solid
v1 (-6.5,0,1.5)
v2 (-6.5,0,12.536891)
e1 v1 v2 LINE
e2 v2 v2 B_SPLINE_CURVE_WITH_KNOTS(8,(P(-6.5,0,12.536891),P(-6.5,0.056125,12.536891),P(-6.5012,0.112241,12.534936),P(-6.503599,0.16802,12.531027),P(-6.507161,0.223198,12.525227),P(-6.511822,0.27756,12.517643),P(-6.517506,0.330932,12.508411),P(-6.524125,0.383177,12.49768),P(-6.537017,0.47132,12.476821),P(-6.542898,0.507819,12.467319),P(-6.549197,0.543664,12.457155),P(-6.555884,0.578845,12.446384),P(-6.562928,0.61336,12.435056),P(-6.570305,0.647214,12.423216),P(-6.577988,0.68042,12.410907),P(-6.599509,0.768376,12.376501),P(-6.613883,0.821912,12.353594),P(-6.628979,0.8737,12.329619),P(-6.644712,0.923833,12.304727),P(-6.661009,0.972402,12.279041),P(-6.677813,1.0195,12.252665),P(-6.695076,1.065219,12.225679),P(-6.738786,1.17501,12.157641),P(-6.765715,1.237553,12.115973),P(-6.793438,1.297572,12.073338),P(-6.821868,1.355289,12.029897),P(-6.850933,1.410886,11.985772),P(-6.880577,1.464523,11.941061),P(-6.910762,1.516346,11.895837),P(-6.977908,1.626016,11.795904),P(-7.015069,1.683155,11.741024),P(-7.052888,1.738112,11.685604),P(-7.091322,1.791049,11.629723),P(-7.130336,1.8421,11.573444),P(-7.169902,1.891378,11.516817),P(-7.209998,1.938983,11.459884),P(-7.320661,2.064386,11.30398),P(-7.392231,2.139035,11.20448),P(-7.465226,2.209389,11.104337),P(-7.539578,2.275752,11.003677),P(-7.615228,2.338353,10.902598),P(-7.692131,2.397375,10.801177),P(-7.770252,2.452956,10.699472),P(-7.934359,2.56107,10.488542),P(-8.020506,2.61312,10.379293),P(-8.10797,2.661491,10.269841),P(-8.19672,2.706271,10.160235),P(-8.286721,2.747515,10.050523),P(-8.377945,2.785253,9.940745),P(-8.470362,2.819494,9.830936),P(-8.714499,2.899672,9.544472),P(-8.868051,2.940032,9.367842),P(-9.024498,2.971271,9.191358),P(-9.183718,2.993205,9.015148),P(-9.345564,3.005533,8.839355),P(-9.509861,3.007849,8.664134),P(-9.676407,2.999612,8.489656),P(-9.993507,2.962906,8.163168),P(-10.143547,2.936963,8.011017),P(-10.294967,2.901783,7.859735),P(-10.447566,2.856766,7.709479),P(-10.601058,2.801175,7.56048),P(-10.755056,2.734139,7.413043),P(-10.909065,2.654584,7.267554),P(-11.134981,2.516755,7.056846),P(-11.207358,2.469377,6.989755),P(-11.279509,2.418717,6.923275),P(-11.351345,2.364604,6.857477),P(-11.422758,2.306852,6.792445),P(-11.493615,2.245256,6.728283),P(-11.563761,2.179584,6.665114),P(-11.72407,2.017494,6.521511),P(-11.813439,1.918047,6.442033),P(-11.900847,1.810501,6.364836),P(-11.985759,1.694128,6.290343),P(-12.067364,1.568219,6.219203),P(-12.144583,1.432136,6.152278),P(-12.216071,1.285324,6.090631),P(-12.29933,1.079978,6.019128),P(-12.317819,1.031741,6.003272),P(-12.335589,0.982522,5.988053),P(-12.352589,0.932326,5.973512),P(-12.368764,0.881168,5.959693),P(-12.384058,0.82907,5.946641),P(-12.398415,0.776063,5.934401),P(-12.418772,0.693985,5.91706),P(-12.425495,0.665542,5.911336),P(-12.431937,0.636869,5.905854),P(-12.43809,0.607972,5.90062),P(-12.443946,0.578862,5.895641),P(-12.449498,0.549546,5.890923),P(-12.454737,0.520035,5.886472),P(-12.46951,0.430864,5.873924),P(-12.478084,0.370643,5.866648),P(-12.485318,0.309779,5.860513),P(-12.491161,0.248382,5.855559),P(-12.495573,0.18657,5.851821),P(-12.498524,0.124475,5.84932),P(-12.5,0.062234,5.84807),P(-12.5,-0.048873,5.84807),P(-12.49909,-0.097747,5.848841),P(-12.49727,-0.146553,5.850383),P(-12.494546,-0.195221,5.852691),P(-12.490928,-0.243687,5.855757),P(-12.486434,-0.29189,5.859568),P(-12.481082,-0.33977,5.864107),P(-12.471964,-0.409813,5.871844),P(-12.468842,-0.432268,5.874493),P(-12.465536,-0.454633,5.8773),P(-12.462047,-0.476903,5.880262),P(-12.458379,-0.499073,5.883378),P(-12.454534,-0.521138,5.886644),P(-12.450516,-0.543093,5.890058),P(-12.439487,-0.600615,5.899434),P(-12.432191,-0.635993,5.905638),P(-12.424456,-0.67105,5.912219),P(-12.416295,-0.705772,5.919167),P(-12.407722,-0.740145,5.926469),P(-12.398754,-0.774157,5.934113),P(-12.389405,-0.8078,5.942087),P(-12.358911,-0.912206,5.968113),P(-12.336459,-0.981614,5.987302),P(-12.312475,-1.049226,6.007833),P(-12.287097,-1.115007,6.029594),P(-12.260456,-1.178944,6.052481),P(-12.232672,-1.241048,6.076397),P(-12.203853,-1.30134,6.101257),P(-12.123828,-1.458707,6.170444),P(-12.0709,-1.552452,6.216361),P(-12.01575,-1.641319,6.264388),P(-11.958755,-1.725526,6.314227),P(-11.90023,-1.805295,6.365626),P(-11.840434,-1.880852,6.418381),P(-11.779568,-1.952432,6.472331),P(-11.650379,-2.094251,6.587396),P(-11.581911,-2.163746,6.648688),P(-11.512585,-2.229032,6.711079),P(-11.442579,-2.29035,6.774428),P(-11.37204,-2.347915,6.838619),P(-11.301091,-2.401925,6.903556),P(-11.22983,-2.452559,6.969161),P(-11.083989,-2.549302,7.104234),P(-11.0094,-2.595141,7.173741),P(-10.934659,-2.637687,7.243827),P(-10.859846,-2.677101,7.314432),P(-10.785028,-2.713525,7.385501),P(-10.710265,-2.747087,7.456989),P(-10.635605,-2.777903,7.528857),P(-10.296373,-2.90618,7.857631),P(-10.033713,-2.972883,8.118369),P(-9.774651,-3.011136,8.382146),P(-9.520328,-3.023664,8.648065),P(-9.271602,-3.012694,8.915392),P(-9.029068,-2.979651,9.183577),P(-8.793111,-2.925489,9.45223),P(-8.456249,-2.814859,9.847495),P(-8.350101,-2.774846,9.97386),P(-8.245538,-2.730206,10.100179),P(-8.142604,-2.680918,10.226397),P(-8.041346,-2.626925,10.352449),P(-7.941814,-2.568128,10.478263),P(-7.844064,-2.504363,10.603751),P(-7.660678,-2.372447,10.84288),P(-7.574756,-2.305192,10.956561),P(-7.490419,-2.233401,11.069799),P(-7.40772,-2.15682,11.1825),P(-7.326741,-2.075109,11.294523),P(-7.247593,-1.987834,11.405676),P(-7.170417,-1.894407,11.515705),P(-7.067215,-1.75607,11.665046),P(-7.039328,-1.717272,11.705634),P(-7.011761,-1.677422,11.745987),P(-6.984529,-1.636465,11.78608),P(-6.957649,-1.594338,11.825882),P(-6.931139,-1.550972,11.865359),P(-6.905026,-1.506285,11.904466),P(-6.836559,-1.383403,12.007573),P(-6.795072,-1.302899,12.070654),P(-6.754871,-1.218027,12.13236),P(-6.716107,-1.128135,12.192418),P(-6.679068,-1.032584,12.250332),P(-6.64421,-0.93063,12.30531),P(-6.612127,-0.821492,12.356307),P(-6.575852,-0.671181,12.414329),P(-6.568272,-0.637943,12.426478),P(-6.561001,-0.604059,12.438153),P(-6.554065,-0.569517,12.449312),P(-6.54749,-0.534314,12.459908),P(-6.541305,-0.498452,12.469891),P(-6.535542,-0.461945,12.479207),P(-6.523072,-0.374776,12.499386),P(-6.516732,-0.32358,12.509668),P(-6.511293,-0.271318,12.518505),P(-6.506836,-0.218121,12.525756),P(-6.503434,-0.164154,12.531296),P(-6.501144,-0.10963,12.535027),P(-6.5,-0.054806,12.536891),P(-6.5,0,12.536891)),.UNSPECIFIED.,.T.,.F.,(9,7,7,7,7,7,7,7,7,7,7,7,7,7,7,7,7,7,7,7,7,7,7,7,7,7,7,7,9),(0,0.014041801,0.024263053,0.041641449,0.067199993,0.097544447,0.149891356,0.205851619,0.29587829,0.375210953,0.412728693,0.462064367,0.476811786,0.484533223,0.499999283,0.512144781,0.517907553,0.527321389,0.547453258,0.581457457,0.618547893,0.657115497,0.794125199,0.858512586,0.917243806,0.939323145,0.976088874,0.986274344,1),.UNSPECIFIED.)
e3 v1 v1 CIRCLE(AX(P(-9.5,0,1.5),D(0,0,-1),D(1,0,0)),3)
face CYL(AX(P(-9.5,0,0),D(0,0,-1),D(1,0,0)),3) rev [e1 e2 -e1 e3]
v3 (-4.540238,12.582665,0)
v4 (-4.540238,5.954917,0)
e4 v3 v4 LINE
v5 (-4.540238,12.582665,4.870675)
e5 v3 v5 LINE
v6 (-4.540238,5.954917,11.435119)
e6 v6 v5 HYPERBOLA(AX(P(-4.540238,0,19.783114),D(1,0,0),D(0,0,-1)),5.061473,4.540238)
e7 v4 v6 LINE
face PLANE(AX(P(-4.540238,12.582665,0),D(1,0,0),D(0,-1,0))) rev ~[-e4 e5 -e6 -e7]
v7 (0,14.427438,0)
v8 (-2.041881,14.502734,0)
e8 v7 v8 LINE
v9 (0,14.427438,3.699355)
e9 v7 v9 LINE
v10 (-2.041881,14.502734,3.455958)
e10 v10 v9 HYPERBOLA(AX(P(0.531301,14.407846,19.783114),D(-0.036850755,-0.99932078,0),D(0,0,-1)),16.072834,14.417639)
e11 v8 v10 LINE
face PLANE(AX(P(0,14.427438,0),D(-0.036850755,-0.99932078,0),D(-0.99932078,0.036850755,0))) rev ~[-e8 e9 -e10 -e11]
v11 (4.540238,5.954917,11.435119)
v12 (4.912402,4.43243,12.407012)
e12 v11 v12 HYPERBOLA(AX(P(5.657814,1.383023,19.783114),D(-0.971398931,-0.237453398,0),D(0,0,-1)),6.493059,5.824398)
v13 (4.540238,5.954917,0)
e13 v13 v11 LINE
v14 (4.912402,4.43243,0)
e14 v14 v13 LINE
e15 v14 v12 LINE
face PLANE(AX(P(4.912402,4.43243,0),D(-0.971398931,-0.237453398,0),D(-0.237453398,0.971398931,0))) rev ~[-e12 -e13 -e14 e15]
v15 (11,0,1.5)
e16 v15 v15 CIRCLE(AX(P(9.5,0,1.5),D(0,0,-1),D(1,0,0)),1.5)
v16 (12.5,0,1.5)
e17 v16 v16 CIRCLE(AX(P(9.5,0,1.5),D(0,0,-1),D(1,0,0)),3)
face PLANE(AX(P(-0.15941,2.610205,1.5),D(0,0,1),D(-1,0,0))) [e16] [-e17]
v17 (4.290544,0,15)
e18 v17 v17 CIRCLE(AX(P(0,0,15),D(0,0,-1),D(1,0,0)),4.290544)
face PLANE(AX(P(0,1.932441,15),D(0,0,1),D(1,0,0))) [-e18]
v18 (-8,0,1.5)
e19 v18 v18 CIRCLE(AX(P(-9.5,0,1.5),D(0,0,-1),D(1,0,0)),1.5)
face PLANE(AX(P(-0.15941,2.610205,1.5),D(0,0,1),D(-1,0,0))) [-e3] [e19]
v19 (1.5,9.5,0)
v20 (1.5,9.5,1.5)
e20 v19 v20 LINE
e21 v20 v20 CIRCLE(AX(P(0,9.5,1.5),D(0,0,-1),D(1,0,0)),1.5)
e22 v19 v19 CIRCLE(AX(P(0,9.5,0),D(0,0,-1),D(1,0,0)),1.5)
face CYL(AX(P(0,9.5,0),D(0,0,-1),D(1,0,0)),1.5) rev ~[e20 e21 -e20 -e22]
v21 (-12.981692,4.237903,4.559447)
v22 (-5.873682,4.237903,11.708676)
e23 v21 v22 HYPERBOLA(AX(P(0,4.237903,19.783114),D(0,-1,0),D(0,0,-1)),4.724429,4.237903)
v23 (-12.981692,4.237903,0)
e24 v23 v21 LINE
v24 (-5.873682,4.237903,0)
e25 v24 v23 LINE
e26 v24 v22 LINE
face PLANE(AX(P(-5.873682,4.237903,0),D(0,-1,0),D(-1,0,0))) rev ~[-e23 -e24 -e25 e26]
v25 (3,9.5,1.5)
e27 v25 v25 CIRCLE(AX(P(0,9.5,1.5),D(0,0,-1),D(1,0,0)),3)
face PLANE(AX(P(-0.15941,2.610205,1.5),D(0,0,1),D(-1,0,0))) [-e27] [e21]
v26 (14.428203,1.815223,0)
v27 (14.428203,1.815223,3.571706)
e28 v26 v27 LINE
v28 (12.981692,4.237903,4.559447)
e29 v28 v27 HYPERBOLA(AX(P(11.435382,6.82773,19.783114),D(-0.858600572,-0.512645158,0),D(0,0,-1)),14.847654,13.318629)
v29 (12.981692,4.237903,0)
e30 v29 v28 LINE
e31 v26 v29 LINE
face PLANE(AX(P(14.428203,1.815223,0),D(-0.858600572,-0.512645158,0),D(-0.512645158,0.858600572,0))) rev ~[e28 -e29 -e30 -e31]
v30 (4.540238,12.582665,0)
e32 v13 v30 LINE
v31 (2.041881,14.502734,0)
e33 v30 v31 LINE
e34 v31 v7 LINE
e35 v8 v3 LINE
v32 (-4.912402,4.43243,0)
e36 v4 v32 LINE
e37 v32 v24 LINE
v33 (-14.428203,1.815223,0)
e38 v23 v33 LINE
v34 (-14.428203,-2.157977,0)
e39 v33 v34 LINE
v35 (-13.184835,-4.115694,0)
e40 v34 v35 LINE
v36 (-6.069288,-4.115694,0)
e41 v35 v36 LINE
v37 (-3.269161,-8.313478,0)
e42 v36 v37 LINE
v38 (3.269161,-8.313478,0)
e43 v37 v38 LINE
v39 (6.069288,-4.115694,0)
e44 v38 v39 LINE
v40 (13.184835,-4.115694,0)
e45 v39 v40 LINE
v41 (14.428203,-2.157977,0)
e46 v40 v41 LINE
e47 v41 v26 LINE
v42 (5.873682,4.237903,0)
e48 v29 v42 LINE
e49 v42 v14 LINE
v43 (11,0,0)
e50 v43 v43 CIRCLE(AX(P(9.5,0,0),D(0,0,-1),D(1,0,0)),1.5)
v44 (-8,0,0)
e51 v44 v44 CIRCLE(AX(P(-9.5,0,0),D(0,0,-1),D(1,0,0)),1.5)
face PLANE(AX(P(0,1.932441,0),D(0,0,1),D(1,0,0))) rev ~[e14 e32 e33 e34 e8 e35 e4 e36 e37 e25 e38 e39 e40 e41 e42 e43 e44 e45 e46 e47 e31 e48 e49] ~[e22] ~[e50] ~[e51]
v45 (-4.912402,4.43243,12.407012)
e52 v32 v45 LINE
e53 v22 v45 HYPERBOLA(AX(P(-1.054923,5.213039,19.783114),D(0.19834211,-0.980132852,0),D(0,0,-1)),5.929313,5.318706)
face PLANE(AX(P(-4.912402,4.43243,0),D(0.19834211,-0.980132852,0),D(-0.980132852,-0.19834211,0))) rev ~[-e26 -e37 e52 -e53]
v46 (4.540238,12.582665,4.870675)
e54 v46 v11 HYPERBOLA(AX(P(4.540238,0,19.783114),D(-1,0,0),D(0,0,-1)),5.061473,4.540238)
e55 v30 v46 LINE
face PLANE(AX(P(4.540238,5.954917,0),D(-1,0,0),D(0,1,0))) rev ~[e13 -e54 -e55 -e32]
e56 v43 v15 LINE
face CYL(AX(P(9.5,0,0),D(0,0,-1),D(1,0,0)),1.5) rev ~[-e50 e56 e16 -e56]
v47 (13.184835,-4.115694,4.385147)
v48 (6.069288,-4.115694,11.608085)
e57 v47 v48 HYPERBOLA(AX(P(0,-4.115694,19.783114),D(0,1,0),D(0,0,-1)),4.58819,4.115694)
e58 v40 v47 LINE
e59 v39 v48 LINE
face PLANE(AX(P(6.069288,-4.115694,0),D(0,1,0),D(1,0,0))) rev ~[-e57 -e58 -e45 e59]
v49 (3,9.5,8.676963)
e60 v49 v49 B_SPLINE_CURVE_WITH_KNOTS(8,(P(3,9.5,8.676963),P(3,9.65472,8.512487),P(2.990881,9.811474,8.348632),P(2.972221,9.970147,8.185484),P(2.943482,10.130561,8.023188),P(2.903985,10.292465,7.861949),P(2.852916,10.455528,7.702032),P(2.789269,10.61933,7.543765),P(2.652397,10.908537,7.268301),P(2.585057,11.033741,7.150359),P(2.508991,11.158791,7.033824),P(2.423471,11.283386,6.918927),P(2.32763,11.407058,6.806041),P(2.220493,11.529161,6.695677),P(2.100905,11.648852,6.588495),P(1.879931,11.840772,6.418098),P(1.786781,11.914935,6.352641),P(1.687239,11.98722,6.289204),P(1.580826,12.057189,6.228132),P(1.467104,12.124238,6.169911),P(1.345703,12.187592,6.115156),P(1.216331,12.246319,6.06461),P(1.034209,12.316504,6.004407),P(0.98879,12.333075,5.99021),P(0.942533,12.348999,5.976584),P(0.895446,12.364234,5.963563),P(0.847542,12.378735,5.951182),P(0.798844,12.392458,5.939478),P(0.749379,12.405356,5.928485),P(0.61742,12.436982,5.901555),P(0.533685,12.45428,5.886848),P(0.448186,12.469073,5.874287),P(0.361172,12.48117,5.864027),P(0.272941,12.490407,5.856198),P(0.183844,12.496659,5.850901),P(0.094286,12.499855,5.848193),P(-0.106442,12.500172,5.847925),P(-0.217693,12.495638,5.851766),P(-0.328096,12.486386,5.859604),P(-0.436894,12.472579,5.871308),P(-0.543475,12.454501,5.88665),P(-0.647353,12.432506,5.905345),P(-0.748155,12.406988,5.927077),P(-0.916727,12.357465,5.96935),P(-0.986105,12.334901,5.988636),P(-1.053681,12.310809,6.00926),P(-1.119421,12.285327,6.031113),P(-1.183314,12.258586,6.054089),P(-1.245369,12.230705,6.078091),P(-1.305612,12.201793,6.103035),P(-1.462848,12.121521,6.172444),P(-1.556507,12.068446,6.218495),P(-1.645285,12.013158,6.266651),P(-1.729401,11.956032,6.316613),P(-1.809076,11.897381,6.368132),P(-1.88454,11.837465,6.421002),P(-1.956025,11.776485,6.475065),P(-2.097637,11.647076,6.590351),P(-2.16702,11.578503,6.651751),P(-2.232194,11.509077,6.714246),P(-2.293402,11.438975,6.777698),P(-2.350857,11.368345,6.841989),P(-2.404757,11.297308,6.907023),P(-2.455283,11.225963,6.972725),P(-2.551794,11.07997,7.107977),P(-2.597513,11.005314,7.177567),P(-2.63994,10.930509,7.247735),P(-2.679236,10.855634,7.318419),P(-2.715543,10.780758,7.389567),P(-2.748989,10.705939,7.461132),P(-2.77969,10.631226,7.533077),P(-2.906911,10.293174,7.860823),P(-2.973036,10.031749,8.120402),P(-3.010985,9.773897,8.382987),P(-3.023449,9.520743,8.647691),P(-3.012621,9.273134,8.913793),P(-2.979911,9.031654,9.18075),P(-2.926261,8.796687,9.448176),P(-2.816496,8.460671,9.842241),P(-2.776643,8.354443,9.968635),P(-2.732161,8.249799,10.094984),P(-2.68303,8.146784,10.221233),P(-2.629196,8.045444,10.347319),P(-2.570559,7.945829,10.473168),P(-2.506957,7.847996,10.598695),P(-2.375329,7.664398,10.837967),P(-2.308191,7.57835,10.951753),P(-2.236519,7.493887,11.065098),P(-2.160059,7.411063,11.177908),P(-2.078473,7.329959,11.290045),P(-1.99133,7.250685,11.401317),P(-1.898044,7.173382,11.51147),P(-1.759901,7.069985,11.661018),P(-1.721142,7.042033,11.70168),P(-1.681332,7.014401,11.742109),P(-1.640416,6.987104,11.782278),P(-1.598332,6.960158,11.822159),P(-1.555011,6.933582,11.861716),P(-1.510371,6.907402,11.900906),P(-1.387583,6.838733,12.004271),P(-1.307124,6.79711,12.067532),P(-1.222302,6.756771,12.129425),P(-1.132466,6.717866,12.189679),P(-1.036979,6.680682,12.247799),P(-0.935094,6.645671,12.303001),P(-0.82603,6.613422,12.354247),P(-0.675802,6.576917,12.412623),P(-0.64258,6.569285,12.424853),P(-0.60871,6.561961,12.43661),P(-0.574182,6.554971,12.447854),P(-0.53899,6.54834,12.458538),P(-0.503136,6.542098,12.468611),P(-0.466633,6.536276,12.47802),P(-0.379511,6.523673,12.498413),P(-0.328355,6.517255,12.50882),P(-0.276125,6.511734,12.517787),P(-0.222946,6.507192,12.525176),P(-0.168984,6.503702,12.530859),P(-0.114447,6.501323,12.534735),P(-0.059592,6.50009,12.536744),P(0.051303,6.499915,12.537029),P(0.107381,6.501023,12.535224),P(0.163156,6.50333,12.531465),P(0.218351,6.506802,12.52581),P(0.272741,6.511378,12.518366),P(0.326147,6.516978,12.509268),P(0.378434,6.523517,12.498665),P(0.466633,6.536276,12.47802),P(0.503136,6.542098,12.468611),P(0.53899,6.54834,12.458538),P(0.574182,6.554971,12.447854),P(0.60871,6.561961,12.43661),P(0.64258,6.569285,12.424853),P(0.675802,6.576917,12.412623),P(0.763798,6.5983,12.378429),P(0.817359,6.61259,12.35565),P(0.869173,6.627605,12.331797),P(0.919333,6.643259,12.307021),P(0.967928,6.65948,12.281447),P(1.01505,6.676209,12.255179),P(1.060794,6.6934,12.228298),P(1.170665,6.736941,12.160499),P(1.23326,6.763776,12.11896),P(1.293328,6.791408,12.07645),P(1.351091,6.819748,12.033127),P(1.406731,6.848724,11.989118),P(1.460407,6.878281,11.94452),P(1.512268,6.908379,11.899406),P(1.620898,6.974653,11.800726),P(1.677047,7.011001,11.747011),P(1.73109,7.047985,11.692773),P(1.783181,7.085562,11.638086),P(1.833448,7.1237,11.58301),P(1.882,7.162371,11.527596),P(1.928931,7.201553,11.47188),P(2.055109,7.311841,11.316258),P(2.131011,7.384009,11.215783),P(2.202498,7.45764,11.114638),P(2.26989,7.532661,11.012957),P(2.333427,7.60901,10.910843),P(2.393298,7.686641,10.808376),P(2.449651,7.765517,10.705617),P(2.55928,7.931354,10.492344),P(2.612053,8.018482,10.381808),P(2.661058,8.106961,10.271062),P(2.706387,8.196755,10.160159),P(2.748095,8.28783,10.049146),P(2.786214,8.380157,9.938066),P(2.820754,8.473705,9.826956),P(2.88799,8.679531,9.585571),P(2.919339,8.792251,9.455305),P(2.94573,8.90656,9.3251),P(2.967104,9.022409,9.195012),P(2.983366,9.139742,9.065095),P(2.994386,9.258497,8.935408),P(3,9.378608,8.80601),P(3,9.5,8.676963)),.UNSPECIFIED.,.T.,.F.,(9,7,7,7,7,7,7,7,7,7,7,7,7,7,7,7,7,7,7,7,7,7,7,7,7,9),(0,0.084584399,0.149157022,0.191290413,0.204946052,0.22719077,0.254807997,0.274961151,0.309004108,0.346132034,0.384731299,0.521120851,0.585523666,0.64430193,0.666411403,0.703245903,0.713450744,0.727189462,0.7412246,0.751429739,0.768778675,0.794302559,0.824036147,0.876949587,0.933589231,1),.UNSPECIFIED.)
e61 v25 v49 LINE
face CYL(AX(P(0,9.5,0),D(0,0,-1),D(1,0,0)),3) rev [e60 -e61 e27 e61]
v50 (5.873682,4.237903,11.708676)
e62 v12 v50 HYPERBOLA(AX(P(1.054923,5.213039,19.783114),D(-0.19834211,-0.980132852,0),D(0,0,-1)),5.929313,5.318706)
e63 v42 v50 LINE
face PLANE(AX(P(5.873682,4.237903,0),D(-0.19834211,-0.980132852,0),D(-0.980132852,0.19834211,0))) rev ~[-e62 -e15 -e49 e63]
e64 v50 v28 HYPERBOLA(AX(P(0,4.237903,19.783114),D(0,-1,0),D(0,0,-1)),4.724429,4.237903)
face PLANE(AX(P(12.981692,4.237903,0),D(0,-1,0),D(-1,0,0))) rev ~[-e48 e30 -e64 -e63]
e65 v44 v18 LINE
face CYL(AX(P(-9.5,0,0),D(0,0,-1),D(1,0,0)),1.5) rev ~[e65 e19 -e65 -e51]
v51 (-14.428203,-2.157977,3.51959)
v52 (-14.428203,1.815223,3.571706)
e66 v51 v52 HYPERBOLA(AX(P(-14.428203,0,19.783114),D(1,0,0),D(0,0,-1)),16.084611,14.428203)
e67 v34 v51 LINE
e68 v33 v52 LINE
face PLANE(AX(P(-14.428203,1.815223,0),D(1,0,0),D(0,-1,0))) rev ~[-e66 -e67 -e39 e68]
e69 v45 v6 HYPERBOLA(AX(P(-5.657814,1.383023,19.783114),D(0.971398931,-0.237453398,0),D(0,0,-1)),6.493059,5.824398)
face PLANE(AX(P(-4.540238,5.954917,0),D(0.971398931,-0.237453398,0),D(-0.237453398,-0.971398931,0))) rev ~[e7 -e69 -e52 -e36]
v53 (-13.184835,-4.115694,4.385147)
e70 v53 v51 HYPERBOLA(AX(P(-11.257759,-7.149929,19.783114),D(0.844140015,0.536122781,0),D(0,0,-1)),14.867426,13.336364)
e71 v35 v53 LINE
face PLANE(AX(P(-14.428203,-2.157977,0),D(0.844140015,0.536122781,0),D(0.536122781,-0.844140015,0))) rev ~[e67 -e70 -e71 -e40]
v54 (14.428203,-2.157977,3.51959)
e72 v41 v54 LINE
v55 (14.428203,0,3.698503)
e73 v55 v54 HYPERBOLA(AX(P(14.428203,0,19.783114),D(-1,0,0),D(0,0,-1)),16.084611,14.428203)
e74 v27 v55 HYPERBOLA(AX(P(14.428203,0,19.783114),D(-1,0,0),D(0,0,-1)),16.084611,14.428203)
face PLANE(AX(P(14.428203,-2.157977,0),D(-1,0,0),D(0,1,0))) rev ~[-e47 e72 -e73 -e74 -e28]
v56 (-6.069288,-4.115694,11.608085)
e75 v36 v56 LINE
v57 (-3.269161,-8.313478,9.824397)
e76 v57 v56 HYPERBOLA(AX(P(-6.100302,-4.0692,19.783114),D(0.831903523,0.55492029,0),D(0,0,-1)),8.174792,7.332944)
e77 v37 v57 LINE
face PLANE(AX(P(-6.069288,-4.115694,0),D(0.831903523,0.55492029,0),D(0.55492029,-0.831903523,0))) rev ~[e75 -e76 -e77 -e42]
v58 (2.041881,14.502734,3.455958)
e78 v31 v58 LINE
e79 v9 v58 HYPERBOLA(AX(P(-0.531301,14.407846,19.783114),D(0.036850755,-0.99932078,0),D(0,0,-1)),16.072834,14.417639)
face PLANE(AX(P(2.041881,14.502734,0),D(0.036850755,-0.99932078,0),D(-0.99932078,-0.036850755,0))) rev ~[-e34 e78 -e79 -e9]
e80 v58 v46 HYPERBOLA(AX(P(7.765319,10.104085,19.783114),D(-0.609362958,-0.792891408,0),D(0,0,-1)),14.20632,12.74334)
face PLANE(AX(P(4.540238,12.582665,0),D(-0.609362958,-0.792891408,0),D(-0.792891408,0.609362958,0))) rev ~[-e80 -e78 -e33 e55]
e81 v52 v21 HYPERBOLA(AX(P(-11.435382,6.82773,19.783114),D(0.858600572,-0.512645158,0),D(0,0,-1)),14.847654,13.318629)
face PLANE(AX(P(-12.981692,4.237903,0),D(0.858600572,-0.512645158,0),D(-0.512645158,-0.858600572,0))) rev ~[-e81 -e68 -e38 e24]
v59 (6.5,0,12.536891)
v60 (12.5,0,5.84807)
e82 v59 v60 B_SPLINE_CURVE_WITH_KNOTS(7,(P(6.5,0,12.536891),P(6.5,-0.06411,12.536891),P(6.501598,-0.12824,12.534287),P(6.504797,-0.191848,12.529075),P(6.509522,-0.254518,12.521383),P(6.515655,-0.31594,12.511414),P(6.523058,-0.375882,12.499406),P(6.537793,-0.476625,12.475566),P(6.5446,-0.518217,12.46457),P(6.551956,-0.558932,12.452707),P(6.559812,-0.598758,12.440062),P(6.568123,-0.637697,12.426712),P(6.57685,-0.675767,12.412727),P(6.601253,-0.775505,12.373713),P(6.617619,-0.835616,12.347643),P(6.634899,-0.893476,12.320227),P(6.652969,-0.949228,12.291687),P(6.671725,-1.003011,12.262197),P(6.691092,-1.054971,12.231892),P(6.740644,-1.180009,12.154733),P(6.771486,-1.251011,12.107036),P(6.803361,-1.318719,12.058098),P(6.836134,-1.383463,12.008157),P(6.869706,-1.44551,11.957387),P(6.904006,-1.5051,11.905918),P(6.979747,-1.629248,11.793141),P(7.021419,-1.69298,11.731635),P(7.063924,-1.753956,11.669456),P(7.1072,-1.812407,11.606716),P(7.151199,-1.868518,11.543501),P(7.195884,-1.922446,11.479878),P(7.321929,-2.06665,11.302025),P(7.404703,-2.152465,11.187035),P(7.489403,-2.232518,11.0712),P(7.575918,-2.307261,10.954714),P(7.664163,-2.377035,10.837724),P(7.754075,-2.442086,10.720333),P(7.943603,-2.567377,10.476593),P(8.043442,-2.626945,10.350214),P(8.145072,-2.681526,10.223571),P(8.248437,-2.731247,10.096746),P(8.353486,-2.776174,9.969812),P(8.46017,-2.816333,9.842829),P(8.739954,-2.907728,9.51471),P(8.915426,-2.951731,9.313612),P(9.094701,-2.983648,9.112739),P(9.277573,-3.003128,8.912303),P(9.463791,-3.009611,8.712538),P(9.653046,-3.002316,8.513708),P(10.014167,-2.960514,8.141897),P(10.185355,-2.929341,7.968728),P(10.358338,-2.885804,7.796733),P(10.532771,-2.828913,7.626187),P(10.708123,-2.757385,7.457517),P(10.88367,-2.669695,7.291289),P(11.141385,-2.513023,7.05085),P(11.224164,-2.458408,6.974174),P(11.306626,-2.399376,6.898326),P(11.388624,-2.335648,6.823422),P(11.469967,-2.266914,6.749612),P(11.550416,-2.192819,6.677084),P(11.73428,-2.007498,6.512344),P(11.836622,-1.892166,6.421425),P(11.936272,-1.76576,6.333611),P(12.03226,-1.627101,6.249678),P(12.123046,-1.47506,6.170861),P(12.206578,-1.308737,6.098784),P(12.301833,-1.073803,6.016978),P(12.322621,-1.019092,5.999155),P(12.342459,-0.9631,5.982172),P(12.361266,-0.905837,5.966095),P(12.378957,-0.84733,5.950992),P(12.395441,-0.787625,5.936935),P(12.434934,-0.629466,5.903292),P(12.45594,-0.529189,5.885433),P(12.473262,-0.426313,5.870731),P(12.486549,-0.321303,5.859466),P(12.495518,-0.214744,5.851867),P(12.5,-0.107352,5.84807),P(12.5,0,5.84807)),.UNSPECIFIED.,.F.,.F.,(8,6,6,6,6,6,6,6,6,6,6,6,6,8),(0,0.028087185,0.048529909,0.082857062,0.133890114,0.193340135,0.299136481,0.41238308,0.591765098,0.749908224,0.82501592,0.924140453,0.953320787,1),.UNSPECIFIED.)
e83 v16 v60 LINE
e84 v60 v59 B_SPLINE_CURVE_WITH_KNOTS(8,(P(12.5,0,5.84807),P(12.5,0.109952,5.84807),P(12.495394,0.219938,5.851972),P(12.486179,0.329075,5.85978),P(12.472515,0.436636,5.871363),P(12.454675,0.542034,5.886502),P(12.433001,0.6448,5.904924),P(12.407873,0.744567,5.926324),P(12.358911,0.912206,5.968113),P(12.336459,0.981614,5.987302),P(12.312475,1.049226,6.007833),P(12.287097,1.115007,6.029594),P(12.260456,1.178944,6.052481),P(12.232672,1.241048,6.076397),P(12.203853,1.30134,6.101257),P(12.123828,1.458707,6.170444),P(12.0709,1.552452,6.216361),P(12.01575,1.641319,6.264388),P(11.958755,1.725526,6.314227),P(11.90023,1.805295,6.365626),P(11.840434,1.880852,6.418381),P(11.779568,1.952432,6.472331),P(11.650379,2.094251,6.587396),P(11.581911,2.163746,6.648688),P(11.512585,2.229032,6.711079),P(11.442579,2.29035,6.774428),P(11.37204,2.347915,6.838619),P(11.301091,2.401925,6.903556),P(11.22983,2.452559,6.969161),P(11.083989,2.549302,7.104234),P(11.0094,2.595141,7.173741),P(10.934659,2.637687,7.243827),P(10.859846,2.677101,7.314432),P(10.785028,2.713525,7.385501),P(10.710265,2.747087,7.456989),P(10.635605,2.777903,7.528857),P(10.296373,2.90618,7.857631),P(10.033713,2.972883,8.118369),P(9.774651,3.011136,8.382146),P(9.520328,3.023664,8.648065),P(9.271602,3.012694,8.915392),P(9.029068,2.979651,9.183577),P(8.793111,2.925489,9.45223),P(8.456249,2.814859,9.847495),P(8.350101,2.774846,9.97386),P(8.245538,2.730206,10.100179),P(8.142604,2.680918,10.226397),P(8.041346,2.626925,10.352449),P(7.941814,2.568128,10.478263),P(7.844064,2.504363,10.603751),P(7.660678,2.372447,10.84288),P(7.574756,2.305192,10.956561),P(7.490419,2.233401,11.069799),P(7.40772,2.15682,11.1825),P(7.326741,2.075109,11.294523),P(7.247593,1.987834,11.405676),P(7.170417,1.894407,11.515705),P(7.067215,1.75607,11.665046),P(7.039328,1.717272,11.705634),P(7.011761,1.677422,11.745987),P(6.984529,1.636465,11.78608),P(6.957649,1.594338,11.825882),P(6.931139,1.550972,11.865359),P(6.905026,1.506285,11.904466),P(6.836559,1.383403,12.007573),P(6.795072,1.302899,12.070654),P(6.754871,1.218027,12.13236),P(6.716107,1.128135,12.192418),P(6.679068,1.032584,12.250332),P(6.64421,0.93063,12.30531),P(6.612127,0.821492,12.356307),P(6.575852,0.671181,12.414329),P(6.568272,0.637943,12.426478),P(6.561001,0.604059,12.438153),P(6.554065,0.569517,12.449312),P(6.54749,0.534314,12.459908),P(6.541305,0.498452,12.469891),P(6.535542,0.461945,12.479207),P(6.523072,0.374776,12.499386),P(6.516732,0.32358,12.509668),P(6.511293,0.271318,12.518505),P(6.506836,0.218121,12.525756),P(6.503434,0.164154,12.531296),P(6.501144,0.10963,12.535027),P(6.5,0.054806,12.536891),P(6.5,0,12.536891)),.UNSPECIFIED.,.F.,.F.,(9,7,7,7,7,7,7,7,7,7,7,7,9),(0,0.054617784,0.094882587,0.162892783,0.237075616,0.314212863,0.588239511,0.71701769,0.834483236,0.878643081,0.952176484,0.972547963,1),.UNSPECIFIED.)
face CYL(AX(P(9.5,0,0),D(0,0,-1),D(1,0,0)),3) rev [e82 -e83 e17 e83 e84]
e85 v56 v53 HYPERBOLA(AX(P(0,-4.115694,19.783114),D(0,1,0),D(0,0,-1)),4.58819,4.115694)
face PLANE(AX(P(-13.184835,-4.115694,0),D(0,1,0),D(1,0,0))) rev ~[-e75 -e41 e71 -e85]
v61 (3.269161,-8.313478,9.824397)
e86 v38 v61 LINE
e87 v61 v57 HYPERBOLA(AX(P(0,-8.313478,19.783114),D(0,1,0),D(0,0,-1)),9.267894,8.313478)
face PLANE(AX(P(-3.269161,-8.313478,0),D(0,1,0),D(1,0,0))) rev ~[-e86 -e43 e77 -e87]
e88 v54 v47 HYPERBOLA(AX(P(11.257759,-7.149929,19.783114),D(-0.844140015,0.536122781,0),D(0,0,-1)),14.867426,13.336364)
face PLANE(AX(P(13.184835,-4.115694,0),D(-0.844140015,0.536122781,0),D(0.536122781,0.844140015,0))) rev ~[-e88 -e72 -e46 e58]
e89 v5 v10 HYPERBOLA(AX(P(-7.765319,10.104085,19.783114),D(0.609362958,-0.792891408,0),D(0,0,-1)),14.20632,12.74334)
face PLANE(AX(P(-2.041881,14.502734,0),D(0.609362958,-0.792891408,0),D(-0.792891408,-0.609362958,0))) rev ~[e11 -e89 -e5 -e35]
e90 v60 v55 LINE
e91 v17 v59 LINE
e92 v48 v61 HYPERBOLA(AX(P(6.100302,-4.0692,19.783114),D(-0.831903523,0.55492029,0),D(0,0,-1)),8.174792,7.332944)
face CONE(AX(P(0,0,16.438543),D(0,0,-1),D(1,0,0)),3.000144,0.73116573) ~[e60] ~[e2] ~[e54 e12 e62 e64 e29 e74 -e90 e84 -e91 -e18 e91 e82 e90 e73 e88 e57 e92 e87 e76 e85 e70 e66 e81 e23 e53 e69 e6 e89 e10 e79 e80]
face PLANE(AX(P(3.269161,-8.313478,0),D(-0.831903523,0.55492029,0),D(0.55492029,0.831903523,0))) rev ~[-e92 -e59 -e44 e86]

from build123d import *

# Parameters (mm, degrees)
SKETCH_R     = 3
PAD_DEPTH    = 15
SKETCH002_R  = 1.5
PAD001_DEPTH = 1.5


with BuildPart() as part:
    # Sketch → Pad (new body)
    with BuildSketch(Plane.XY):
        Polygon((0, 14.427438), (-2.041881, 14.502734), (-4.540238, 12.582665), (-4.540238, 8.140154), (-4.540238, 5.954917), (-4.912402, 4.43243), (-5.873682, 4.237903), (-12.981692, 4.237903), (-14.428203, 1.815223), (-14.428203, 0), (-14.428203, -2.157977), (-13.184835, -4.115694), (-6.069288, -4.115694), (-3.269161, -8.313478), (0, -8.313478), (3.269161, -8.313478), (6.069288, -4.115694), (13.184835, -4.115694), (14.428203, -2.157977), (14.428203, 0), (14.428203, 1.815223), (12.981692, 4.237903), (5.873682, 4.237903), (4.912402, 4.43243), (4.540238, 5.954917), (4.540238, 8.140154), (4.540238, 12.582665), (2.041881, 14.502734), align=None)
        with Locations((0, 9.5)):
            Circle(SKETCH_R, mode=Mode.SUBTRACT)
        with Locations((-9.5, 0)):
            Circle(SKETCH_R, mode=Mode.SUBTRACT)
        with Locations((9.5, 0)):
            Circle(SKETCH_R, mode=Mode.SUBTRACT)
    extrude(amount=PAD_DEPTH)

    # Sketch001 → Groove (revolve, cut)
    with BuildSketch(Plane.XZ):
        Polygon((3.000144, 16.438543), (15.461766, 2.546283), (18.059507, 16.438543), align=None)
    revolve(axis=Axis((0, 0, 0), (0, 0, 1)), mode=Mode.SUBTRACT)

    # Sketch002 (on Face2 of Groove) → Pad001 (join)
    with BuildSketch(Plane(origin=(0, 0, 0), x_dir=(1, 0, 0), z_dir=(0, 0, -1))):
        Polygon((-12.307145, 3.302316), (11.637245, 3.302316), (13.331424, 0.817521), (13.067885, -2.119055), (11.185462, -3.474398), (3.392242, -3.474398), (3.655782, -9.272253), (2.940462, -12.66061), (0.342722, -13.37593), (-2.895042, -12.773556), (-3.873901, -9.159308), (-3.459768, -4.528554), (-5.455134, -2.984969), (-11.70477, -3.737936), (-13.737784, -1.366087), align=None)
        with Locations((-9.5, 0)):
            Circle(SKETCH002_R, mode=Mode.SUBTRACT)
        with Locations((9.5, 0)):
            Circle(SKETCH002_R, mode=Mode.SUBTRACT)
        with Locations((0, -9.5)):
            Circle(SKETCH002_R, mode=Mode.SUBTRACT)
    extrude(amount=-PAD001_DEPTH)


solid = part.part
